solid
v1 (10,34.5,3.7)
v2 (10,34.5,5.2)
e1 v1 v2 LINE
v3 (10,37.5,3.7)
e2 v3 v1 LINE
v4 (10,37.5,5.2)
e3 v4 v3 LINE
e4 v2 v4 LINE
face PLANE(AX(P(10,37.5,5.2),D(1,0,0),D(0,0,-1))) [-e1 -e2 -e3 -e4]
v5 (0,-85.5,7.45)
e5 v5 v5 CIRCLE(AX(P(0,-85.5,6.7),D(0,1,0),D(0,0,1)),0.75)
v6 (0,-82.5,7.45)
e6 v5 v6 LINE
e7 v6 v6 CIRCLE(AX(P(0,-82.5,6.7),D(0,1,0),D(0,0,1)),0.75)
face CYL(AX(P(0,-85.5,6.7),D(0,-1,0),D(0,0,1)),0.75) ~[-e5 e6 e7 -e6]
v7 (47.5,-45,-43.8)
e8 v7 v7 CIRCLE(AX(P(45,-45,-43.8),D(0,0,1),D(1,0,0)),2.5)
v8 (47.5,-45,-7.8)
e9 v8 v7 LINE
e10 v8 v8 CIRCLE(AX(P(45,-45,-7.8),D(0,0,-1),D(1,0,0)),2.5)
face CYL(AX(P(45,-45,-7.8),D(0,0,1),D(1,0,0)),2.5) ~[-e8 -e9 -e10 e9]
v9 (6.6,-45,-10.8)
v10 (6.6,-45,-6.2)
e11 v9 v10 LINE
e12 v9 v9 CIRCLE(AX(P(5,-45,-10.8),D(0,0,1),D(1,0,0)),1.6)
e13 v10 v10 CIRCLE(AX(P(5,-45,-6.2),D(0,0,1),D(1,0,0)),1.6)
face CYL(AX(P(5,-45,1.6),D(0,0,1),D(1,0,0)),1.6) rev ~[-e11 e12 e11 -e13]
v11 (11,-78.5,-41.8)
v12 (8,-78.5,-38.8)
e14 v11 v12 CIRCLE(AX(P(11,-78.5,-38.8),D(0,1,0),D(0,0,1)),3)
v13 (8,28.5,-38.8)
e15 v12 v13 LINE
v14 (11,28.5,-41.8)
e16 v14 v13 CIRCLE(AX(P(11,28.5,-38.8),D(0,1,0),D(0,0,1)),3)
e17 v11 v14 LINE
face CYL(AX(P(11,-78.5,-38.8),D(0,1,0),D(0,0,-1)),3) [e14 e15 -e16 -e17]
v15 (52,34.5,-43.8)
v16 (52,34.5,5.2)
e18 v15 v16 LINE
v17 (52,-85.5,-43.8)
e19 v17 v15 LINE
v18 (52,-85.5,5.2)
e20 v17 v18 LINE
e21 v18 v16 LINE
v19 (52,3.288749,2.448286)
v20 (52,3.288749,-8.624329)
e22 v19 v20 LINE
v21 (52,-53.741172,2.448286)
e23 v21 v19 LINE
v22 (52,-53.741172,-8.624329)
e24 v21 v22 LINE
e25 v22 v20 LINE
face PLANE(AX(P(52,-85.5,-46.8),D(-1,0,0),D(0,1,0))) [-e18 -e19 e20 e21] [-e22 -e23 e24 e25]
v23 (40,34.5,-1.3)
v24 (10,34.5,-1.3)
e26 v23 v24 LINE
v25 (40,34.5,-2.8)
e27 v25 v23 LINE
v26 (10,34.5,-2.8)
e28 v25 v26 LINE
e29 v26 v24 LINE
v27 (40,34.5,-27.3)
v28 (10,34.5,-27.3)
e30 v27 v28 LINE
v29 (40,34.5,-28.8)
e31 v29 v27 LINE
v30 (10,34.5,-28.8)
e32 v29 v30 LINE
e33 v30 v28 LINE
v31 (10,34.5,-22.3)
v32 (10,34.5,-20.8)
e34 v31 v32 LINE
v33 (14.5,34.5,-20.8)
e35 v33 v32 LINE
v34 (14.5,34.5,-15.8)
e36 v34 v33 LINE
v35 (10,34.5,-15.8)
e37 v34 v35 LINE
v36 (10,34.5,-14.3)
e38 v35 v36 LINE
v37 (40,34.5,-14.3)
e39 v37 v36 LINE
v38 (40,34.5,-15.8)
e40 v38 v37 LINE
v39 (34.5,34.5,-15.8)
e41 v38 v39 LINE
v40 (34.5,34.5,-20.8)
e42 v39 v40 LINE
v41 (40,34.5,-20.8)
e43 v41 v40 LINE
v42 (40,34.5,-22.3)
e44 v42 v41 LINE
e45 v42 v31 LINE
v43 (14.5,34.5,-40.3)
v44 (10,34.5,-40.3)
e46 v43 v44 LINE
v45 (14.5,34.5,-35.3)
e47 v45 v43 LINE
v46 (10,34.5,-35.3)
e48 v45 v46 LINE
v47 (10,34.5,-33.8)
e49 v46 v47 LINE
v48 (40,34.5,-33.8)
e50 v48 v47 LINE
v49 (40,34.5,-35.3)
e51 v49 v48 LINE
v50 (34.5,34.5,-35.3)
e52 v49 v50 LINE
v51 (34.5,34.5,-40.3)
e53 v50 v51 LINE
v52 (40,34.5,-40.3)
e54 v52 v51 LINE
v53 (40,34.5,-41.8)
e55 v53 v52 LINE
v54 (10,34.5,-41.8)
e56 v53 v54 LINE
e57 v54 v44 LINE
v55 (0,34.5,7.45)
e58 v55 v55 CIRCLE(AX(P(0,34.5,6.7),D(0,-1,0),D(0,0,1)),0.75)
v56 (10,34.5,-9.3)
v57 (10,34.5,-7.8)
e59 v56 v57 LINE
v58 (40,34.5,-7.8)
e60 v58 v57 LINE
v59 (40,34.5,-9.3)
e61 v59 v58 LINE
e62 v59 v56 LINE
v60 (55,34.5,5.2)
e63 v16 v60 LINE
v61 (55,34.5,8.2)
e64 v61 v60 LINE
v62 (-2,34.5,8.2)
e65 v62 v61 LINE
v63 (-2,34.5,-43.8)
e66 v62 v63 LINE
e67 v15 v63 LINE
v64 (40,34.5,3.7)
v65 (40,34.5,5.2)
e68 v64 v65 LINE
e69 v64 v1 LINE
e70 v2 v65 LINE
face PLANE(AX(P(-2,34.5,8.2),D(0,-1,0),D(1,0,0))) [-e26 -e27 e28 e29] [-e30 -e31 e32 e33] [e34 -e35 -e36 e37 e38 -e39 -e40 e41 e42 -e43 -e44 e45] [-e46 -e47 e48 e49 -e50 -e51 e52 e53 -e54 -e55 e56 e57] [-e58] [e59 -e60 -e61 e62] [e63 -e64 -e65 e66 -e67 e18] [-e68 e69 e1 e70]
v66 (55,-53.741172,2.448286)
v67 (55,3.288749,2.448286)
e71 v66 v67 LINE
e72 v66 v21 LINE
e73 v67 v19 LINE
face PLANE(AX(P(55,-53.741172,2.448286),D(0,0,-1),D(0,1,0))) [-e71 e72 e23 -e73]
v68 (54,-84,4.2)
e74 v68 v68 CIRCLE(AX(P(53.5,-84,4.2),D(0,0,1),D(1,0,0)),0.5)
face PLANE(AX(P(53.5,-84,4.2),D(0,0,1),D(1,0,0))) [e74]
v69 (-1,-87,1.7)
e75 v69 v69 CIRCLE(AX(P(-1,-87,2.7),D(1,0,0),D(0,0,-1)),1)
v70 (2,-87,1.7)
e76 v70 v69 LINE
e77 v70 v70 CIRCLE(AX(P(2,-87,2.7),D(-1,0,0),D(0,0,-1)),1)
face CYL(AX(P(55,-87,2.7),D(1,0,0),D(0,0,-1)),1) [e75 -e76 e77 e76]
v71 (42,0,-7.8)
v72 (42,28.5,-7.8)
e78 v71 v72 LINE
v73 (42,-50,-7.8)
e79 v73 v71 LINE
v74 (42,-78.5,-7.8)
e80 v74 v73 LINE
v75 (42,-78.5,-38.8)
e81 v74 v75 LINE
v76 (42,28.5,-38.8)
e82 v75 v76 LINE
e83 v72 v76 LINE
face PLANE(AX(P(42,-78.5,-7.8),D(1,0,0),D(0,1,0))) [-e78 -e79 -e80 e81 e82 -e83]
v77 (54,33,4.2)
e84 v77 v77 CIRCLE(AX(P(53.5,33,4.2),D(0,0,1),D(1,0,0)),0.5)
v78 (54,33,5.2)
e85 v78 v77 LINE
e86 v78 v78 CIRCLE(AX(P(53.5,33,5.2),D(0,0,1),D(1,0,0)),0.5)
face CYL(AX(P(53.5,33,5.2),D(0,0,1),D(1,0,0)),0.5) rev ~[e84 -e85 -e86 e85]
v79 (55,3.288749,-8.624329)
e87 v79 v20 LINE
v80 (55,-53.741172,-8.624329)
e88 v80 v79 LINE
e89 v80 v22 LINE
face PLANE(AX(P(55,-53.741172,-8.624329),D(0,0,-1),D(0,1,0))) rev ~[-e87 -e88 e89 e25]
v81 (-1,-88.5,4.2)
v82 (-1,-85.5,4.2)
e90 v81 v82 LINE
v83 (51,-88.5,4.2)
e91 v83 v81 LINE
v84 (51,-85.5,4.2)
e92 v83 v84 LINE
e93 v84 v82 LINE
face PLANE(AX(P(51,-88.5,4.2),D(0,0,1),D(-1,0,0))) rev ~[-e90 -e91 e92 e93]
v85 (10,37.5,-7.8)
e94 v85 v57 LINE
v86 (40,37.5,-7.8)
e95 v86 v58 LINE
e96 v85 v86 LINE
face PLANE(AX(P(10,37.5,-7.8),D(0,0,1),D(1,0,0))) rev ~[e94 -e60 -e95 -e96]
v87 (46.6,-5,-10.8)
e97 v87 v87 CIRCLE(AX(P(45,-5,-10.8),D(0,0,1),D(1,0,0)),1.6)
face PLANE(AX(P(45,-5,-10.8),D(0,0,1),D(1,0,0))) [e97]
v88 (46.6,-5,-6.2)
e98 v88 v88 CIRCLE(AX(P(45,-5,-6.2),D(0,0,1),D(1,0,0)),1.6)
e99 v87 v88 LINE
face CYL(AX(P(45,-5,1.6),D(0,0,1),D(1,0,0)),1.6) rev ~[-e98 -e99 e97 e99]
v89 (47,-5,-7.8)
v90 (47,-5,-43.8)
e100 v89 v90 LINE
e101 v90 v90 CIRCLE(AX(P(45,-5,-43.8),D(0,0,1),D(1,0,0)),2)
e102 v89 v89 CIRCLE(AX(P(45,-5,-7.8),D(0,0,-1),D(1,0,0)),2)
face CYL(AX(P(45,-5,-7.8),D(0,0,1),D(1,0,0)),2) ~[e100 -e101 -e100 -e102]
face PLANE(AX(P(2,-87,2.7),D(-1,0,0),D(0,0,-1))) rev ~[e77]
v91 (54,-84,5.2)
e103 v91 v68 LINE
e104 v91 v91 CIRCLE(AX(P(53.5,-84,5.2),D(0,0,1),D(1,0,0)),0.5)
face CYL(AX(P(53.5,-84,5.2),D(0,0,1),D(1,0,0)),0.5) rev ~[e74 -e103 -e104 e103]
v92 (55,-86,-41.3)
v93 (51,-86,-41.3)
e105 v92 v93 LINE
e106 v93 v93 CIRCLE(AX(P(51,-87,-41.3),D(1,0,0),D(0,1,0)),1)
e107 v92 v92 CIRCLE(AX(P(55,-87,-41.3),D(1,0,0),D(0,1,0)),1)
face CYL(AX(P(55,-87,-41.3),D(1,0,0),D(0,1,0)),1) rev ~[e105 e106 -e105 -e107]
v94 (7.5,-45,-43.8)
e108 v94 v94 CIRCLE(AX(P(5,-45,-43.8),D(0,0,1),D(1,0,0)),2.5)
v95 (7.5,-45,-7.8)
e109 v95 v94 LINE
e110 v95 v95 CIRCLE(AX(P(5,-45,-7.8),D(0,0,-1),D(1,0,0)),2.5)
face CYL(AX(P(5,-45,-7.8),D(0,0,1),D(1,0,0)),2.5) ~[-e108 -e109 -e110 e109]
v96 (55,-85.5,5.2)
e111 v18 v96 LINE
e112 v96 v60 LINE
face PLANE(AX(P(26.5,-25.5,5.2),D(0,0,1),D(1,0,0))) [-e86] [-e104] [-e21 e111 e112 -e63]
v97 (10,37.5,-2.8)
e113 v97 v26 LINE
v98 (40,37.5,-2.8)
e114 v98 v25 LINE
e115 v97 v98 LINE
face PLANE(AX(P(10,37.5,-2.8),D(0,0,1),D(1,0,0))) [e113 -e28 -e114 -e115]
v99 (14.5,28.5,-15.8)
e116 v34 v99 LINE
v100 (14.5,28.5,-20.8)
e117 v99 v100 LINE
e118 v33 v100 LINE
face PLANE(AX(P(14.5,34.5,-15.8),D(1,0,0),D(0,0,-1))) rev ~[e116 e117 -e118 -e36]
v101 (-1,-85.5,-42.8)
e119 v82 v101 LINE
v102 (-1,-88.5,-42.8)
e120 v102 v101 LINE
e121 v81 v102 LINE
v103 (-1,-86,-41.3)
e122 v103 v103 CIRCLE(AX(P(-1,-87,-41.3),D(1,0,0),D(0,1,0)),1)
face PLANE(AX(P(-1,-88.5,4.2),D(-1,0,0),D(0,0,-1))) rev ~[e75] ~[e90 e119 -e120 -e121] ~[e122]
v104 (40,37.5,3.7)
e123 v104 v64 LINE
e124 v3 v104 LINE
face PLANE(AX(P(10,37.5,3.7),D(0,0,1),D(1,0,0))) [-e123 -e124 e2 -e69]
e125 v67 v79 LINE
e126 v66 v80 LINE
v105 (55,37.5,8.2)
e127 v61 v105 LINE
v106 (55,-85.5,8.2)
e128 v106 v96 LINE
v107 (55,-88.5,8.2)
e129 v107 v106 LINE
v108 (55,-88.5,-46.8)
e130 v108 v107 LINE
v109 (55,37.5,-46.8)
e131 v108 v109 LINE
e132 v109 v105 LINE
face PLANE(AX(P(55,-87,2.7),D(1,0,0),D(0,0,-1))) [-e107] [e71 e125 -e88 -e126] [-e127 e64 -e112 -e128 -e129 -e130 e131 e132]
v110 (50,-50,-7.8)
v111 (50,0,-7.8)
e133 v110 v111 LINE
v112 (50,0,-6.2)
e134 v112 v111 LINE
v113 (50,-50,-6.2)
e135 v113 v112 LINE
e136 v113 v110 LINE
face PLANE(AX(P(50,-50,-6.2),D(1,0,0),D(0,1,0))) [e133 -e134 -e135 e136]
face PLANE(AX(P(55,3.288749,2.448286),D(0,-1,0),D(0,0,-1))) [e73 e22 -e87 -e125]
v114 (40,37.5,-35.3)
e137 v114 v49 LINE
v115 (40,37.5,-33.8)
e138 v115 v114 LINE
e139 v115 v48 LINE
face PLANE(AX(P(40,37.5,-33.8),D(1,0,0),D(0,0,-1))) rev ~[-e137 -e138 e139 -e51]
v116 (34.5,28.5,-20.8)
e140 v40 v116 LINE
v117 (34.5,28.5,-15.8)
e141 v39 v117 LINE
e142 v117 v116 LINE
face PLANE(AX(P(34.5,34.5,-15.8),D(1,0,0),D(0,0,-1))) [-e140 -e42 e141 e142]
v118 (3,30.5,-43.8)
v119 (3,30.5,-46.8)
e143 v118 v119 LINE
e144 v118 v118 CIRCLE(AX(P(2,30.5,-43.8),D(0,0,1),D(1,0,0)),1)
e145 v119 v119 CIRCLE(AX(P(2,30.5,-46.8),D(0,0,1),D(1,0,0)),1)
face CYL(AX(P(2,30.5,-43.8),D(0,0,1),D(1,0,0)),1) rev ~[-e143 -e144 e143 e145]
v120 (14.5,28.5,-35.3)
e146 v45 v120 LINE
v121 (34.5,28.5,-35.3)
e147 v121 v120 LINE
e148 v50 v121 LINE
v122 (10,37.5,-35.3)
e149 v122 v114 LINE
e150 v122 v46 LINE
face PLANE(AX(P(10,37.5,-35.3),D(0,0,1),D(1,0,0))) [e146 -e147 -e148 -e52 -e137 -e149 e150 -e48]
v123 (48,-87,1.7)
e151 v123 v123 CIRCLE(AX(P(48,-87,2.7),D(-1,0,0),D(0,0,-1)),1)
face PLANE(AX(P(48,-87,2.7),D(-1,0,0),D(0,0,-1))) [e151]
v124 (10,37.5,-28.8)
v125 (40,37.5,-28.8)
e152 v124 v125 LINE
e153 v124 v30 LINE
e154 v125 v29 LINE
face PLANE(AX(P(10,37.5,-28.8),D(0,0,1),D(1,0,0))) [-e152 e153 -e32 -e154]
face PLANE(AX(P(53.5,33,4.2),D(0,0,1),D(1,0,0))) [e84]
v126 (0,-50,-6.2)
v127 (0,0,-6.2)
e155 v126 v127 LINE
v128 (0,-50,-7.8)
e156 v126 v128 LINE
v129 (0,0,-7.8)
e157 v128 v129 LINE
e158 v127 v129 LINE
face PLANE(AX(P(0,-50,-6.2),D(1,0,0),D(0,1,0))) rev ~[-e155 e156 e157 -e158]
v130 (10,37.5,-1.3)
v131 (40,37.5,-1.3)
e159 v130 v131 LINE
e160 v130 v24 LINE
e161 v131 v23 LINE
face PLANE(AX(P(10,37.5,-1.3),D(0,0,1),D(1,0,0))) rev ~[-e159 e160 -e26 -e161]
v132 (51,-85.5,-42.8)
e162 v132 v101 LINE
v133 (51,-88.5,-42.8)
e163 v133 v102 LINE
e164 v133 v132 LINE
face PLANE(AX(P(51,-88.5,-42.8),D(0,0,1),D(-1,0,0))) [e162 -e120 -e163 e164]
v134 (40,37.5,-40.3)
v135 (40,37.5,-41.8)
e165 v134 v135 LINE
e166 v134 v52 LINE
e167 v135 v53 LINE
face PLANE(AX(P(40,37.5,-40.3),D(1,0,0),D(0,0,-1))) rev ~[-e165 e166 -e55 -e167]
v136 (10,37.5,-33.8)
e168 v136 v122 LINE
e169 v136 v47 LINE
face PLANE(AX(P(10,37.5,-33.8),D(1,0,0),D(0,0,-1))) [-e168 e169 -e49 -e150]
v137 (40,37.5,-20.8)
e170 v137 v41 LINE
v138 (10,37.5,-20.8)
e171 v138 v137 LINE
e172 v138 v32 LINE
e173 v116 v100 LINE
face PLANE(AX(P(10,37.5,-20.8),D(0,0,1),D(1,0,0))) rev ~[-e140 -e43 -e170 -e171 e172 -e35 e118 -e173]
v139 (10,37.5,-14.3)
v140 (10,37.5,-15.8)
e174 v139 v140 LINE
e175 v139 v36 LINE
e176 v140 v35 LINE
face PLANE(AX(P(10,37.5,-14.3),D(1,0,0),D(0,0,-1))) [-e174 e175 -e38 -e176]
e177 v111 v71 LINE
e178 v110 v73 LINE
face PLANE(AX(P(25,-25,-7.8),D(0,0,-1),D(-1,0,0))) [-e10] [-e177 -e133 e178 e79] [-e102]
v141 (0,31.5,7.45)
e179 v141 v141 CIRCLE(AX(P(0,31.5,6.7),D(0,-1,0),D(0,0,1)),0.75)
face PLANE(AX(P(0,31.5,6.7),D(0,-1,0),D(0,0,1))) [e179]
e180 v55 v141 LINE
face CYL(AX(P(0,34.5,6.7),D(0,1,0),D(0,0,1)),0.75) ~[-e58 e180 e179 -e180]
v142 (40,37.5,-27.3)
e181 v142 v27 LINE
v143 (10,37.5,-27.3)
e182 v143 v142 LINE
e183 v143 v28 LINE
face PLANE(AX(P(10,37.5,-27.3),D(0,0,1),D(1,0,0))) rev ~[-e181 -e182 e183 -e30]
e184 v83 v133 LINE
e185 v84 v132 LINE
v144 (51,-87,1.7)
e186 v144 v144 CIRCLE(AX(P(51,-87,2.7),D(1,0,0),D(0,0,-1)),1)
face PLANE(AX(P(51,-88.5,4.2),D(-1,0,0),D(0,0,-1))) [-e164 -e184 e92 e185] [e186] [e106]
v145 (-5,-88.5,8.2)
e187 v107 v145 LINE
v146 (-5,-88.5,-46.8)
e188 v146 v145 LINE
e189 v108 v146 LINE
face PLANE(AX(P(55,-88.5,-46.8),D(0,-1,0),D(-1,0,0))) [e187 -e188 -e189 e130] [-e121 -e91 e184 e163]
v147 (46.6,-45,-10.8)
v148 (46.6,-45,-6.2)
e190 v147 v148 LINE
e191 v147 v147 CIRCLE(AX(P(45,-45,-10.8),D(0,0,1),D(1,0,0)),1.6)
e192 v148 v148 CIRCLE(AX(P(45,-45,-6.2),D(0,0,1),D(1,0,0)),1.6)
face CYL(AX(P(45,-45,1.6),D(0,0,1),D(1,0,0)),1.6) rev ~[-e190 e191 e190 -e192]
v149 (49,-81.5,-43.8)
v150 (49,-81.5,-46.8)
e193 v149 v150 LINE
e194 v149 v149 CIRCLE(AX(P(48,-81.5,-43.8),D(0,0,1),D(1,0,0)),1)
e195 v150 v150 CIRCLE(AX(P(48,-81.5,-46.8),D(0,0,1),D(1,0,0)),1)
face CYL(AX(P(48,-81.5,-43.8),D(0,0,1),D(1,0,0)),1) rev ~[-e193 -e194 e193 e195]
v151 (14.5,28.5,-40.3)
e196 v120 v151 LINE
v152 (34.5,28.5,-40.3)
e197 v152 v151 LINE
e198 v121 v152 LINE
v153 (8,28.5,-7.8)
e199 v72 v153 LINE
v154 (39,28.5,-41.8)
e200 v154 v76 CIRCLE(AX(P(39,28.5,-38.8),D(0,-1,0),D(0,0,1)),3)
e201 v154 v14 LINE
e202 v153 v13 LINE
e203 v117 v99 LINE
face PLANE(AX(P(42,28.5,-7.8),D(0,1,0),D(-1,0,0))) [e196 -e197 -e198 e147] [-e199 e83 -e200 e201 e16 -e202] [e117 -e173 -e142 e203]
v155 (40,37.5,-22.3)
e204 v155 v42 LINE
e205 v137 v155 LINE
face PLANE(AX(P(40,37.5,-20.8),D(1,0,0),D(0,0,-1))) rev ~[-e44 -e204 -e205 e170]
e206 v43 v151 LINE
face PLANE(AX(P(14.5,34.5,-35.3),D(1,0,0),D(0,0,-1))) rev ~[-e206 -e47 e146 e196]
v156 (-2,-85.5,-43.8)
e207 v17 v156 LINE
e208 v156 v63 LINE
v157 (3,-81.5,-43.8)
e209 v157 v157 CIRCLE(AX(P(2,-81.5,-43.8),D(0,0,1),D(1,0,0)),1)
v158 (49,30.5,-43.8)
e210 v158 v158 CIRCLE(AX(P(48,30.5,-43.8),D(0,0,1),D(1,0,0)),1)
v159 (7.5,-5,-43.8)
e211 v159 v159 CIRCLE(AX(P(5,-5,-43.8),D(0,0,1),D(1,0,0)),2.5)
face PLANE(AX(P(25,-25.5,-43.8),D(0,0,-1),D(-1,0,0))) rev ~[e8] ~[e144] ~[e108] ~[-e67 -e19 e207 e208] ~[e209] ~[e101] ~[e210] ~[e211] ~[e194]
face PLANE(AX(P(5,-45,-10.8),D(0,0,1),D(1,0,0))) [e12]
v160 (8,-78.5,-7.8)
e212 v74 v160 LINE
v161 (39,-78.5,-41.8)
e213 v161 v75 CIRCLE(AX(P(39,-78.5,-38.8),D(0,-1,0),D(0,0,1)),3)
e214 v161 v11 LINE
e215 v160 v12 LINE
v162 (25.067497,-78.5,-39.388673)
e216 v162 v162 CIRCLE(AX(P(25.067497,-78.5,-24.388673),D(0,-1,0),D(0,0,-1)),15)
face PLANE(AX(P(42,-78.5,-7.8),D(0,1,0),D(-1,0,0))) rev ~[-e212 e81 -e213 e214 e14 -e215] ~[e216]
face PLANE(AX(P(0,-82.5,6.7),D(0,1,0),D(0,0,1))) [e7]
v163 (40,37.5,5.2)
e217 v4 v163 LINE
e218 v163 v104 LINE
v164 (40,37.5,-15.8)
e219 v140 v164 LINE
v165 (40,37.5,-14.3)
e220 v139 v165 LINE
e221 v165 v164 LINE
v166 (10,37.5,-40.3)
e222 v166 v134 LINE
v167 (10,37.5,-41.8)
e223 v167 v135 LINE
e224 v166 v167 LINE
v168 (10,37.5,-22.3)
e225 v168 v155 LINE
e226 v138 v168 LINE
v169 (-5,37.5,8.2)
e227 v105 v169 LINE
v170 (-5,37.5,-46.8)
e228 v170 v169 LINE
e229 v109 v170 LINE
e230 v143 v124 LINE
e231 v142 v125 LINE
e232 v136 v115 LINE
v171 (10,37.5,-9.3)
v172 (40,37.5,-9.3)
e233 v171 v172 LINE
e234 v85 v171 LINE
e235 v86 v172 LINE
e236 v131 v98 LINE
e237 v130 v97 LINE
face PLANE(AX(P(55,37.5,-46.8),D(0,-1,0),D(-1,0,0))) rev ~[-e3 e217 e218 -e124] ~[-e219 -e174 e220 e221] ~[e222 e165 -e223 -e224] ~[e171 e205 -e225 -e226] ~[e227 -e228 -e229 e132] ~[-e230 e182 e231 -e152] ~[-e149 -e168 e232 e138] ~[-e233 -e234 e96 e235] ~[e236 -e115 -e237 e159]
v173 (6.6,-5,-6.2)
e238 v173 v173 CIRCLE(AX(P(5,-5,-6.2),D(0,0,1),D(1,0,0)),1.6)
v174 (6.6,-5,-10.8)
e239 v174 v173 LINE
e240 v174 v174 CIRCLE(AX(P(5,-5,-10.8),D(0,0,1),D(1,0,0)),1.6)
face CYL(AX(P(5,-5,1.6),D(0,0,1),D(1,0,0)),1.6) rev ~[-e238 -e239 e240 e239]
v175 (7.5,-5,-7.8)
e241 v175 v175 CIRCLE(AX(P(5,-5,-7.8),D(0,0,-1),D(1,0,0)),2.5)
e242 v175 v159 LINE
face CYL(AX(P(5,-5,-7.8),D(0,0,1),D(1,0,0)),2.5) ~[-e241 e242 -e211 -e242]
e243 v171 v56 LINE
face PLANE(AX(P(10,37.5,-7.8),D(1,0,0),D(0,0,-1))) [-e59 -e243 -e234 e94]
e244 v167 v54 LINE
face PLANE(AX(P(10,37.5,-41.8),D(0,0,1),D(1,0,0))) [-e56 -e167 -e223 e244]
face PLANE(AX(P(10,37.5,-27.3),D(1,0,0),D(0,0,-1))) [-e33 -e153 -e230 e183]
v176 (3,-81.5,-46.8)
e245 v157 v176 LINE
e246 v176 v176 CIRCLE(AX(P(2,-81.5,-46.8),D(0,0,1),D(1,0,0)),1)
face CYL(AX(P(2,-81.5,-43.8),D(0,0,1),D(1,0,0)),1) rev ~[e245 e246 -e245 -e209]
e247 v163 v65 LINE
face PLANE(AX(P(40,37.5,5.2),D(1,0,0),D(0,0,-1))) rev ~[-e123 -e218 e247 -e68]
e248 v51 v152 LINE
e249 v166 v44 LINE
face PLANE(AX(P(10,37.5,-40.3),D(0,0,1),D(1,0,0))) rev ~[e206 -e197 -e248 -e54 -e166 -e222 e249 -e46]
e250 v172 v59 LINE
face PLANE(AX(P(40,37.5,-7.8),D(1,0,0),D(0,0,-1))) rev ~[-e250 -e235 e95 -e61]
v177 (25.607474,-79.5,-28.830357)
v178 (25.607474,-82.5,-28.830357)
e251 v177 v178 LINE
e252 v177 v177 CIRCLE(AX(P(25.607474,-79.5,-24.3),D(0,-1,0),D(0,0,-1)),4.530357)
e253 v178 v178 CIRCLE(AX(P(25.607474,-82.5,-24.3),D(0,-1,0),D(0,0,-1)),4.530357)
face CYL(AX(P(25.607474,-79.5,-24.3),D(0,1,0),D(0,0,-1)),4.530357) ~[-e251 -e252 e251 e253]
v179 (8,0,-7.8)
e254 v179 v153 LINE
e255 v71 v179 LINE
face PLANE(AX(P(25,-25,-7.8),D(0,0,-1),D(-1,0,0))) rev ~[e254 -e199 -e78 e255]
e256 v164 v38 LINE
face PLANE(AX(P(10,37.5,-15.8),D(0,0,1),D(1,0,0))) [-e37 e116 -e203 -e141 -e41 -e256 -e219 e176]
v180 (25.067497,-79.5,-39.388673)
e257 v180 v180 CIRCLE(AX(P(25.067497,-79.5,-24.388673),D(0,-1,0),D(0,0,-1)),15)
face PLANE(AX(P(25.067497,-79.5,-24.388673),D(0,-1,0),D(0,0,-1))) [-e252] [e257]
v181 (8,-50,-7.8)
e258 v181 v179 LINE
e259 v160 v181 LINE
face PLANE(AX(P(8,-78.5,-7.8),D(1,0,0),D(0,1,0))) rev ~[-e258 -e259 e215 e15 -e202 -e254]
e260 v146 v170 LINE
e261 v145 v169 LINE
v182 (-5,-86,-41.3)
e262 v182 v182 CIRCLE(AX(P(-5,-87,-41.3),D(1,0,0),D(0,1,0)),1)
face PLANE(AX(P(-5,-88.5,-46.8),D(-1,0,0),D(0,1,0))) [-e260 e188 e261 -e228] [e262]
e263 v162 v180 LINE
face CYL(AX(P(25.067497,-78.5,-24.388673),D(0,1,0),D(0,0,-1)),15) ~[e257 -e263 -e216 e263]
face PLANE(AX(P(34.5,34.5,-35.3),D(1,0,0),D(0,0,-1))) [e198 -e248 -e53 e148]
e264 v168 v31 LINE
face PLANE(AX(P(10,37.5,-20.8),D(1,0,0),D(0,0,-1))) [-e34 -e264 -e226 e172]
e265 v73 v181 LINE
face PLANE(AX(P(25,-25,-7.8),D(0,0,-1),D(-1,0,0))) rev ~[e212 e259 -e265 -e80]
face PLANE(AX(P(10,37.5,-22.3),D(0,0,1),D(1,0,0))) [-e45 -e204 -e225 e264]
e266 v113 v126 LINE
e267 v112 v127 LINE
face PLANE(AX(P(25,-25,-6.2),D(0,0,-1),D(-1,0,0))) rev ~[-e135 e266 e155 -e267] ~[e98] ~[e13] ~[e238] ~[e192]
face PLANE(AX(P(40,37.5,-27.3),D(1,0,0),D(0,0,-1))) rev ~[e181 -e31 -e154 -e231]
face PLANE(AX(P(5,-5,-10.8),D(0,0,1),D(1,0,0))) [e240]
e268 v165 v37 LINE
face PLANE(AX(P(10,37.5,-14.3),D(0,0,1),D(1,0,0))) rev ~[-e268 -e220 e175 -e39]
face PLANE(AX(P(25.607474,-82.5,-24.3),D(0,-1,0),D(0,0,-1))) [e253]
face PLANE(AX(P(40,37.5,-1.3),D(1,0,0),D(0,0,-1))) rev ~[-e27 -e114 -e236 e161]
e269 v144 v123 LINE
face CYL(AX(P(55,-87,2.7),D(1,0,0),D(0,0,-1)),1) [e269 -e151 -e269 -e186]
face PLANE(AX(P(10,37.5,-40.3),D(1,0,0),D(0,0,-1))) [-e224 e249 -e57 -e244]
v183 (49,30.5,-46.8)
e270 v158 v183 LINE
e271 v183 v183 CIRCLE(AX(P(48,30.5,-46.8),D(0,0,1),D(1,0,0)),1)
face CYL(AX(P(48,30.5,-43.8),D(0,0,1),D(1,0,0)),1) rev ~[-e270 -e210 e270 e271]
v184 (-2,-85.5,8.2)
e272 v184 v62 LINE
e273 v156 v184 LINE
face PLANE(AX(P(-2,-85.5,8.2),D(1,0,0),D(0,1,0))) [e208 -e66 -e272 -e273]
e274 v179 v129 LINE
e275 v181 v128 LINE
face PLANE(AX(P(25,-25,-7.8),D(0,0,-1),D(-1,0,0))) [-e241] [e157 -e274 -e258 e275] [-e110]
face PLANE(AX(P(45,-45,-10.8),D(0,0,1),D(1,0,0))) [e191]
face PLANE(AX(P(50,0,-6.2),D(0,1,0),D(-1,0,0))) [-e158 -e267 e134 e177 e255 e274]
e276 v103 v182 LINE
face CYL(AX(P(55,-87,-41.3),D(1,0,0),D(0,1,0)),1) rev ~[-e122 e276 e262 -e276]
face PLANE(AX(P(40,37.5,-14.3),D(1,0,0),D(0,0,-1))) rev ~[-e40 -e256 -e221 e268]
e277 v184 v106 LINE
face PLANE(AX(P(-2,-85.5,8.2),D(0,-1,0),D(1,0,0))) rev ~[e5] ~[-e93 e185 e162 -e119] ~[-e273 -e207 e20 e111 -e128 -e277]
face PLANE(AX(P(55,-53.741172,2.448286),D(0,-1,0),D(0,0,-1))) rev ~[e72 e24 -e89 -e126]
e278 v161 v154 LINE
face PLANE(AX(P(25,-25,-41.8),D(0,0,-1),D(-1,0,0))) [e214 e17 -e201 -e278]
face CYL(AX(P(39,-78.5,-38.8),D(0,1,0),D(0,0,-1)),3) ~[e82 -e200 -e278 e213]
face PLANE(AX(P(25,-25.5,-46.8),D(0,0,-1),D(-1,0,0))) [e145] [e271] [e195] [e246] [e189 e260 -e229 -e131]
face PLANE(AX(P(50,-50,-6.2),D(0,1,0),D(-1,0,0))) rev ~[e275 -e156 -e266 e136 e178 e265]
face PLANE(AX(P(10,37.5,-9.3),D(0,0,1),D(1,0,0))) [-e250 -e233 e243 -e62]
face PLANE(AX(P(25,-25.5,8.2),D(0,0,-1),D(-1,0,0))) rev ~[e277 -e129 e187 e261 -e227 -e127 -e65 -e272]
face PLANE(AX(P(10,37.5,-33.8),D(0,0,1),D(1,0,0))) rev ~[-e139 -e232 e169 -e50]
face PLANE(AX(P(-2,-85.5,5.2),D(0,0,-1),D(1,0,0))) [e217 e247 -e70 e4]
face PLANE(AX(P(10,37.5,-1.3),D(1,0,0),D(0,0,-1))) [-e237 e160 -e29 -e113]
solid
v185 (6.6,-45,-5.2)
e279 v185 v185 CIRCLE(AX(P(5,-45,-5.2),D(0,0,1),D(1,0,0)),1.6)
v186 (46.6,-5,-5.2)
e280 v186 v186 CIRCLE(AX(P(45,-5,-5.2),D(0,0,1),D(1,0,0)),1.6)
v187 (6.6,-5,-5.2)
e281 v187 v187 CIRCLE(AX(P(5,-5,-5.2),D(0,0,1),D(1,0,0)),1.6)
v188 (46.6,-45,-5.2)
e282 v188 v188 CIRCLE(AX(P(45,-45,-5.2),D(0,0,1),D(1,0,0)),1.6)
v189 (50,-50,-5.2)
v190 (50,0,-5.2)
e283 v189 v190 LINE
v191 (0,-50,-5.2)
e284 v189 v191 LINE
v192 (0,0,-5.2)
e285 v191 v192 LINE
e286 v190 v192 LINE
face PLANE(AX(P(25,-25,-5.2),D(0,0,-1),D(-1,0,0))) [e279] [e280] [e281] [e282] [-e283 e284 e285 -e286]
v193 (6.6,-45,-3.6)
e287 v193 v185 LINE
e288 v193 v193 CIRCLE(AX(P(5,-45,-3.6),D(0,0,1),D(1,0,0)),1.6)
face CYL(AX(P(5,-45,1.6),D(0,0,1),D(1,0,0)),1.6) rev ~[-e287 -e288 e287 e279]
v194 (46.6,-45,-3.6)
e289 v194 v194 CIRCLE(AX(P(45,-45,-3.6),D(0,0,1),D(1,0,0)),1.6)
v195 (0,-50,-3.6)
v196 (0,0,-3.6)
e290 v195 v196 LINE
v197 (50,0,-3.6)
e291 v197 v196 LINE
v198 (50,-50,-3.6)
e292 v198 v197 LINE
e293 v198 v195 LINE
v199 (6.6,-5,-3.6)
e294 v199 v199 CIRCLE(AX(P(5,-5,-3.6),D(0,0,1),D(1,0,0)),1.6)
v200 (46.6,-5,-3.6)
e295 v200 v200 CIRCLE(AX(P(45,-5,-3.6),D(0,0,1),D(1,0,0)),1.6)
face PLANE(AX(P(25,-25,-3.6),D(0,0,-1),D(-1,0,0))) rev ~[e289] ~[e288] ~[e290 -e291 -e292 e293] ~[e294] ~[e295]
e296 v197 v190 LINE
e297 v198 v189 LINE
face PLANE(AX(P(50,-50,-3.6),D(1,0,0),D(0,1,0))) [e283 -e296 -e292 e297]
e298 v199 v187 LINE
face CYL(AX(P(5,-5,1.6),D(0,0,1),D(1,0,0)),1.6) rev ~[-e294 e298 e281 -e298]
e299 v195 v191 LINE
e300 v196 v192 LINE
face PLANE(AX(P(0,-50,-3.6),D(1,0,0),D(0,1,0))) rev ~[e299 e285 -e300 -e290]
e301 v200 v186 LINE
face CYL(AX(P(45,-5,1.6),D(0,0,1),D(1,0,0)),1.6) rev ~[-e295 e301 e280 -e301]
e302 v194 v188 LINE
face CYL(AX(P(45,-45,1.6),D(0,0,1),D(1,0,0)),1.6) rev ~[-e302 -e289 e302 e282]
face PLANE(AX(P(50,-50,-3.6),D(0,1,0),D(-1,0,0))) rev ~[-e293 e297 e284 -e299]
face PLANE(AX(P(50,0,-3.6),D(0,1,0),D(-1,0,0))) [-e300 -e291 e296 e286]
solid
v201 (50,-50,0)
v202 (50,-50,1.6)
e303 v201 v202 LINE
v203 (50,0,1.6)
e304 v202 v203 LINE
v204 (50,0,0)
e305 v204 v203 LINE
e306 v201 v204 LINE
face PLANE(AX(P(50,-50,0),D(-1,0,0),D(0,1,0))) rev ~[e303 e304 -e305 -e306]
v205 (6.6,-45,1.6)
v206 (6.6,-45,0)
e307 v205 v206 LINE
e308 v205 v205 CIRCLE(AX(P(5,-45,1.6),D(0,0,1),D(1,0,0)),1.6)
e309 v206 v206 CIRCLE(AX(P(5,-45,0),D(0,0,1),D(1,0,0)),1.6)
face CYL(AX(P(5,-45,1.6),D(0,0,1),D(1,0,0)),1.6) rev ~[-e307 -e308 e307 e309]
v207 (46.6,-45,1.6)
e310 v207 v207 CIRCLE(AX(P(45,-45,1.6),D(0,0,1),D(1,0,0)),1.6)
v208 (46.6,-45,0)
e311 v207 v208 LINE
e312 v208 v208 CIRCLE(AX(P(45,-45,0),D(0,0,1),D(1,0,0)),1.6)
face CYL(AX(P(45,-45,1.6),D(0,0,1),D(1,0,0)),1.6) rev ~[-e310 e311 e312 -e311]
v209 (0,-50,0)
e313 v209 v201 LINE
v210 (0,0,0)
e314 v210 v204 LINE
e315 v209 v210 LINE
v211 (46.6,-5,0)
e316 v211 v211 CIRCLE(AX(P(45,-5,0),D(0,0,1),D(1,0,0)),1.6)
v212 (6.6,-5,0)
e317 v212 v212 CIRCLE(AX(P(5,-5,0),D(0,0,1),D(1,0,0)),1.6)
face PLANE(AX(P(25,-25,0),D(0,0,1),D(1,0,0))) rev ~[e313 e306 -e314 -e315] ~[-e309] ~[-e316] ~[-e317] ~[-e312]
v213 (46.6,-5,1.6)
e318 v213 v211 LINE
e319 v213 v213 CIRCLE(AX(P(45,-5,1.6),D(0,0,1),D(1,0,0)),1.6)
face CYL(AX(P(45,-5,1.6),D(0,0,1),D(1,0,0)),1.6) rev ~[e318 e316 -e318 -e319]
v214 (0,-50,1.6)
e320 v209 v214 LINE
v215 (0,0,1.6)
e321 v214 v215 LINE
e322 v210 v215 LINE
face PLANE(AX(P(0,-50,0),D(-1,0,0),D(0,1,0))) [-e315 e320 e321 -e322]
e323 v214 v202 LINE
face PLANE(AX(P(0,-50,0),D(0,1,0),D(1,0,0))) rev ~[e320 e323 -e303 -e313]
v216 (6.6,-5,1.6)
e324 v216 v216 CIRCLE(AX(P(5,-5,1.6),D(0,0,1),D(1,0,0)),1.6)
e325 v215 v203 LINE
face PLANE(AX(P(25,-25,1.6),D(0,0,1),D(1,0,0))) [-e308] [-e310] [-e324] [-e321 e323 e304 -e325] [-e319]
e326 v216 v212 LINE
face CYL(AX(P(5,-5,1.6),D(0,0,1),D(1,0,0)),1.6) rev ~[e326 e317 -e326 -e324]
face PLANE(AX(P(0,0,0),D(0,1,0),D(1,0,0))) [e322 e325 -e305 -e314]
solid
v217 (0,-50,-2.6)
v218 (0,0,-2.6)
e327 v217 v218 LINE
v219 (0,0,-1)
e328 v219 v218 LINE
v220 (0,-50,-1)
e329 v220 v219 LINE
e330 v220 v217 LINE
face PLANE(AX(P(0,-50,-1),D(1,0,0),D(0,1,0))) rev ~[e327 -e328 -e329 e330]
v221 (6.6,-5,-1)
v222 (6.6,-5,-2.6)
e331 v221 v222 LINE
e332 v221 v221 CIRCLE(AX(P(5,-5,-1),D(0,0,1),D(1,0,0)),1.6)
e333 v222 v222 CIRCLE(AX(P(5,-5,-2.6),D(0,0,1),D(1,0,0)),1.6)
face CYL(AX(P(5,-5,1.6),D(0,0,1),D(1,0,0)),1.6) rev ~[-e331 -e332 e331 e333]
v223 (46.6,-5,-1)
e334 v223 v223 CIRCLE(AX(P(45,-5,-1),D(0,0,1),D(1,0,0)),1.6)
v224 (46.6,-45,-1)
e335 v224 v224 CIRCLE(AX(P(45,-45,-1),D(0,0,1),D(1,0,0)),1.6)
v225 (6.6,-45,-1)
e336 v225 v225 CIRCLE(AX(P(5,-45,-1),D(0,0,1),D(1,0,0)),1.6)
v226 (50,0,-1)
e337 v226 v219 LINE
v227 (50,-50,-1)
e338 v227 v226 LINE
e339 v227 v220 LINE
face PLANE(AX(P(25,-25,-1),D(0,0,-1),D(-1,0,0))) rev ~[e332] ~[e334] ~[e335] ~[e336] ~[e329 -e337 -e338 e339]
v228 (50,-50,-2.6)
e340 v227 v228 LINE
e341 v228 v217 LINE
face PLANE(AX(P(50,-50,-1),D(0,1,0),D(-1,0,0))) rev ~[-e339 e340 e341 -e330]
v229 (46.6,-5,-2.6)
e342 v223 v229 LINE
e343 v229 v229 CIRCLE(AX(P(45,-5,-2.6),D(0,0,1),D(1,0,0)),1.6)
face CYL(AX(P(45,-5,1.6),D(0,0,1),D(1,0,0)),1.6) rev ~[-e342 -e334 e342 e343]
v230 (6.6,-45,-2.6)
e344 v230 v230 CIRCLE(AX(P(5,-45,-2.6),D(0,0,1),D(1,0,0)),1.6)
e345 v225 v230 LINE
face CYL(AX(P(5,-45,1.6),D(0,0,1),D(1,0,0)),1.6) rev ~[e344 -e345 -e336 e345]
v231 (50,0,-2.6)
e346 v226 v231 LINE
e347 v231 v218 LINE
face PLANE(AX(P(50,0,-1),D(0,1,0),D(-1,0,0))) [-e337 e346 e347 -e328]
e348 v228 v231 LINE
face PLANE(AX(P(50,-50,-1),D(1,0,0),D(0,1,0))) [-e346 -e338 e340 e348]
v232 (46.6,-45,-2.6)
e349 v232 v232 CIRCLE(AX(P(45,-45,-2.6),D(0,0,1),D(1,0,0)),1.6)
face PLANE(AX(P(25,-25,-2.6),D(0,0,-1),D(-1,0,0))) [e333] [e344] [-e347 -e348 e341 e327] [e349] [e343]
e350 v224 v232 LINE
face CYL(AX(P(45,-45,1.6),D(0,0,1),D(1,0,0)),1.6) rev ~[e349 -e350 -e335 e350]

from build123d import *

# Parameters (mm, degrees)
SKETCH_1_W           = 50
SKETCH_1_H           = 50
EXTRUDE_1_DEPTH      = 1.6
SKETCH_4_W           = 50
SKETCH_4_H           = 50
EXTRUDE_3_DEPTH      = 1.6
SKETCH_5_W           = 50
SKETCH_5_H           = 50
EXTRUDE_4_DEPTH      = 1.6
SKETCH_6_W           = 50
SKETCH_6_H           = 50
EXTRUDE_5_DEPTH      = 1.6
SKETCH_9_W           = 34
SKETCH_9_H           = 107
EXTRUDE_6_DEPTH      = 34
FILLET_12_R          = 3
FILLET_13_R          = 3
SKETCH_10_R          = 1.6
CUT_EXTRUDE_1_DEPTH  = 10
SKETCH_17_W          = 54
SKETCH_17_H          = 120
EXTRUDE_8_DEPTH      = 3
SKETCH_18_R          = 15
EXTRUDE_10_DEPTH     = 1
SKETCH_19_R          = 4.530357101
EXTRUDE_11_DEPTH     = 3
SKETCH_22_R          = 2.5
SKETCH_22_R_2        = 2
EXTRUDE_12_DEPTH     = 37
SKETCH_23_R          = 1.6
CUT_EXTRUDE_2_DEPTH  = 3
SKETCH_24_W          = 60
SKETCH_24_H          = 126
SKETCH_24_W_2        = 54
SKETCH_24_H_2        = 120
EXTRUDE_14_DEPTH     = 55
SKETCH_31_W          = 30
SKETCH_31_H          = 1.5
CUT_EXTRUDE_4_DEPTH  = 4
SKETCH_32_R          = 1
CUT_EXTRUDE_5_DEPTH  = 10
SKETCH_33_W          = 54
SKETCH_33_H          = 3
EXTRUDE_15_DEPTH     = 121
SKETCH_34_W          = 52
SKETCH_34_H          = 47
CUT_EXTRUDE_6_DEPTH  = 3
SKETCH_36_R          = 1
EXTRUDE_16_DEPTH     = 58
SKETCH_37_R          = 1
CUT_EXTRUDE_8_DEPTH  = 46
SKETCH_38_R          = 1
CUT_EXTRUDE_9_DEPTH  = 100
SKETCH_39_W          = 11.072615153
SKETCH_39_H          = 57.029921058
CUT_EXTRUDE_10_DEPTH = 3
SKETCH_28_W          = 57
SKETCH_28_H          = 120
CUT_EXTRUDE_11_DEPTH = 3
SKETCH_30_R          = 0.75
EXTRUDE_17_DEPTH     = 3
SKETCH_29_R          = 0.75
EXTRUDE_18_DEPTH     = 3
SKETCH_41_R          = 0.5
CUT_EXTRUDE_12_DEPTH = 1
SKETCH_42_W          = 20
SKETCH_42_H          = 5
EXTRUDE_19_DEPTH     = 6


with BuildPart() as part:
    # 草图1 → 凸台-拉伸1 (new body)
    with BuildSketch(Plane.XY):
        with Locations((25, -25)):
            Rectangle(SKETCH_1_W, SKETCH_1_H)
    extrude(amount=EXTRUDE_1_DEPTH)


with BuildPart() as body_2:
    # 草图4 → 凸台-拉伸3 (new body)
    with BuildSketch(Plane(origin=(0, 0, -1), x_dir=(-1, 0, 0), z_dir=(0, 0, -1))):
        with Locations((-25, -25)):
            Rectangle(SKETCH_4_W, SKETCH_4_H)
    extrude(amount=EXTRUDE_3_DEPTH)


with BuildPart() as body_3:
    # 草图5 → 凸台-拉伸4 (new body)
    with BuildSketch(Plane(origin=(0, 0, -3.6), x_dir=(-1, 0, 0), z_dir=(0, 0, -1))):
        with Locations((-25, -25)):
            Rectangle(SKETCH_5_W, SKETCH_5_H)
    extrude(amount=EXTRUDE_4_DEPTH)


with BuildPart() as body_4:
    # 草图6 → 凸台-拉伸5 (new body)
    with BuildSketch(Plane(origin=(0, 0, -6.2), x_dir=(-1, 0, 0), z_dir=(0, 0, -1))):
        with Locations((-25, -25)):
            Rectangle(SKETCH_6_W, SKETCH_6_H)
    extrude(amount=EXTRUDE_5_DEPTH)

    # 草图9 → 凸台-拉伸6 (add)
    with BuildSketch(Plane(origin=(0, 0, -7.8), x_dir=(-1, 0, 0), z_dir=(0, 0, -1))):
        with Locations((-25, -25)):
            Rectangle(SKETCH_9_W, SKETCH_9_H)
    extrude(amount=EXTRUDE_6_DEPTH)

    # 圆角12
    fillet_12_edges = [body_4.edges().sort_by_distance(p)[0] for p in [
        (8, -25, -41.8),
    ]]
    fillet(fillet_12_edges, radius=FILLET_12_R)

    # 圆角13
    fillet_13_edges = [body_4.edges().sort_by_distance(p)[0] for p in [
        (42, -25, -41.8),
    ]]
    fillet(fillet_13_edges, radius=FILLET_13_R)


with BuildPart() as cut_extrude_1_tool:
    # 草图10 → 切除-拉伸1 (new body)
    with BuildSketch(Plane.XY.offset(1.6)):
        with Locations((5, -5)):
            Circle(SKETCH_10_R)
        with Locations((45, -5)):
            Circle(SKETCH_10_R)
        with Locations((5, -45)):
            Circle(SKETCH_10_R)
        with Locations((45, -45)):
            Circle(SKETCH_10_R)
    extrude(amount=-CUT_EXTRUDE_1_DEPTH)


with BuildPart() as part_1:
    add(part.part)

    # 切除-拉伸1: cut by cut_extrude_1_tool
    add(cut_extrude_1_tool.part, mode=Mode.SUBTRACT)


with BuildPart() as body_2_1:
    add(body_2.part)

    # 切除-拉伸1: cut by cut_extrude_1_tool
    add(cut_extrude_1_tool.part, mode=Mode.SUBTRACT)


with BuildPart() as body_3_1:
    add(body_3.part)

    # 切除-拉伸1: cut by cut_extrude_1_tool
    add(cut_extrude_1_tool.part, mode=Mode.SUBTRACT)


with BuildPart() as body_4_1:
    add(body_4.part)

    # 切除-拉伸1: cut by cut_extrude_1_tool
    add(cut_extrude_1_tool.part, mode=Mode.SUBTRACT)

    # 草图18 → 凸台-拉伸10 (add)
    with BuildSketch(Plane(origin=(0, -78.5, 0), x_dir=(-1, 0, 0), z_dir=(0, -1, 0))):
        with Locations(Location((-25.067497088, 24.38867284, 0), (0, 0, 90))):
            Circle(SKETCH_18_R)
    extrude(amount=EXTRUDE_10_DEPTH)

    # 草图19 → 凸台-拉伸11 (add)
    with BuildSketch(Plane(origin=(0, -79.5, 0), x_dir=(-1, 0, 0), z_dir=(0, -1, 0))):
        with Locations(Location((-25.607473795, 24.3, 0), (0, 0, 90))):
            Circle(SKETCH_19_R)
    extrude(amount=EXTRUDE_11_DEPTH)



with BuildPart() as body_5:
    # 草图17 → 凸台-拉伸8 (new body)
    with BuildSketch(Plane(origin=(0, 0, -43.8), x_dir=(-1, 0, 0), z_dir=(0, 0, -1))):
        with Locations((-25, -25.5)):
            Rectangle(SKETCH_17_W, SKETCH_17_H)
    extrude(amount=EXTRUDE_8_DEPTH)


with BuildPart() as body_4_2:
    add(body_4_1.part)

    add(body_5.part)  # 凸台-拉伸12 merges body 5
    # 草图22 → 凸台-拉伸12 (add)
    with BuildSketch(Plane(origin=(0, 0, -7.8), x_dir=(-1, 0, 0), z_dir=(0, 0, -1))):
        with Locations(Location((-45, -45, 0), (0, 0, 180))):
            Circle(SKETCH_22_R)
        with Locations(Location((-45, -5, 0), (0, 0, 180))):
            Circle(SKETCH_22_R_2)
        with Locations(Location((-5, -45, 0), (0, 0, 180))):
            Circle(SKETCH_22_R)
        with Locations(Location((-5, -5, 0), (0, 0, 180))):
            Circle(SKETCH_22_R)
    extrude(amount=EXTRUDE_12_DEPTH)

    # 草图23 → 切除-拉伸2 (cut)
    with BuildSketch(Plane.XY.offset(-7.8)):
        with Locations((45, -45)):
            Circle(SKETCH_23_R)
        with Locations((45, -5)):
            Circle(SKETCH_23_R)
        with Locations((5, -5)):
            Circle(SKETCH_23_R)
        with Locations((5, -45)):
            Circle(SKETCH_23_R)
    extrude(amount=-CUT_EXTRUDE_2_DEPTH, mode=Mode.SUBTRACT)

    # 草图24 → 凸台-拉伸14 (add)
    with BuildSketch(Plane(origin=(0, 0, -46.8), x_dir=(-1, 0, 0), z_dir=(0, 0, -1))):
        with Locations((-25, -25.5)):
            Rectangle(SKETCH_24_W, SKETCH_24_H)
        with Locations((-25, -25.5)):
            Rectangle(SKETCH_24_W_2, SKETCH_24_H_2, mode=Mode.SUBTRACT)
    extrude(amount=-EXTRUDE_14_DEPTH)

    # 草图31 → 切除-拉伸4 (cut)
    with BuildSketch(Plane(origin=(0, 37.5, 0), x_dir=(1, 0, 0), z_dir=(0, 1, 0))):
        with Locations((25, 41.05)):
            Rectangle(SKETCH_31_W, SKETCH_31_H)
        with Locations((25, 34.55)):
            Rectangle(SKETCH_31_W, SKETCH_31_H)
        with Locations((25, 28.05)):
            Rectangle(SKETCH_31_W, SKETCH_31_H)
        with Locations((25, 21.55)):
            Rectangle(SKETCH_31_W, SKETCH_31_H)
        with Locations((25, 15.05)):
            Rectangle(SKETCH_31_W, SKETCH_31_H)
        with Locations((25, 8.55)):
            Rectangle(SKETCH_31_W, SKETCH_31_H)
        with Locations((25, 2.05)):
            Rectangle(SKETCH_31_W, SKETCH_31_H)
        with Locations((25, -4.45)):
            Rectangle(SKETCH_31_W, SKETCH_31_H)
    extrude(amount=-CUT_EXTRUDE_4_DEPTH, mode=Mode.SUBTRACT)

    # 草图32 → 切除-拉伸5 (cut)
    with BuildSketch(Plane.XY.offset(-43.8)):
        with Locations((2, 30.5)):
            Circle(SKETCH_32_R)
        with Locations((48, 30.5)):
            Circle(SKETCH_32_R)
        with Locations((2, -81.5)):
            Circle(SKETCH_32_R)
        with Locations((48, -81.5)):
            Circle(SKETCH_32_R)
    extrude(amount=-CUT_EXTRUDE_5_DEPTH, mode=Mode.SUBTRACT)

    # 草图33 → 凸台-拉伸15 (add)
    with BuildSketch(Plane(origin=(0, -85.5, 0), x_dir=(1, 0, 0), z_dir=(0, 1, 0))):
        with Locations((25, -6.7)):
            Rectangle(SKETCH_33_W, SKETCH_33_H)
    extrude(amount=EXTRUDE_15_DEPTH)

    # 草图34 → 切除-拉伸6 (cut)
    with BuildSketch(Plane(origin=(0, -88.5, 0), x_dir=(-1, 0, 0), z_dir=(0, -1, 0))):
        with Locations((-25, 19.3)):
            Rectangle(SKETCH_34_W, SKETCH_34_H)
    extrude(amount=-CUT_EXTRUDE_6_DEPTH, mode=Mode.SUBTRACT)

    # 草图36 → 凸台-拉伸16 (add)
    with BuildSketch(Plane(origin=(55, 0, 0), x_dir=(0, 0, -1), z_dir=(1, 0, 0))):
        with Locations((-2.7, -87)):
            Circle(SKETCH_36_R)
    extrude(amount=-EXTRUDE_16_DEPTH)

    # 草图37 → 切除-拉伸8 (cut)
    with BuildSketch(Plane.ZY.offset(-48)):
        with Locations(Location((2.7, -87, 0), (0, 0, 180))):
            Circle(SKETCH_37_R)
    extrude(amount=CUT_EXTRUDE_8_DEPTH, mode=Mode.SUBTRACT)

    # 草图38 → 切除-拉伸9 (cut)
    with BuildSketch(Plane(origin=(55, 0, 0), x_dir=(0, 0, -1), z_dir=(1, 0, 0))):
        with Locations(Location((41.3, -87, 0), (0, 0, 90))):
            Circle(SKETCH_38_R)
    extrude(amount=-CUT_EXTRUDE_9_DEPTH, mode=Mode.SUBTRACT)

    # 草图39 → 切除-拉伸10 (cut)
    with BuildSketch(Plane(origin=(55, 0, 0), x_dir=(0, 0, -1), z_dir=(1, 0, 0))):
        with Locations((3.08802192, -25.226211524)):
            Rectangle(SKETCH_39_W, SKETCH_39_H)
    extrude(amount=-CUT_EXTRUDE_10_DEPTH, mode=Mode.SUBTRACT)

    # 草图28 → 切除-拉伸11 (cut)
    with BuildSketch(Plane.XY.offset(8.2)):
        with Locations((26.5, -25.5)):
            Rectangle(SKETCH_28_W, SKETCH_28_H)
    extrude(amount=-CUT_EXTRUDE_11_DEPTH, mode=Mode.SUBTRACT)

    # 草图30 → 凸台-拉伸17 (add)
    with BuildSketch(Plane(origin=(0, 34.5, 0), x_dir=(-1, 0, 0), z_dir=(0, -1, 0))):
        with Locations(Location((0, -6.7, 0), (0, 0, 270))):
            Circle(SKETCH_30_R)
    extrude(amount=EXTRUDE_17_DEPTH)

    # 草图29 → 凸台-拉伸18 (add)
    with BuildSketch(Plane(origin=(0, -85.5, 0), x_dir=(1, 0, 0), z_dir=(0, 1, 0))):
        with Locations(Location((0, -6.7, 0), (0, 0, 270))):
            Circle(SKETCH_29_R)
    extrude(amount=EXTRUDE_18_DEPTH)

    # 草图41 → 切除-拉伸12 (cut)
    with BuildSketch(Plane.XY.offset(5.2)):
        with Locations((53.5, 33)):
            Circle(SKETCH_41_R)
        with Locations((53.5, -84)):
            Circle(SKETCH_41_R)
    extrude(amount=-CUT_EXTRUDE_12_DEPTH, mode=Mode.SUBTRACT)

    # 草图42 → 凸台-拉伸19 (add)
    with BuildSketch(Plane(origin=(0, 34.5, 0), x_dir=(-1, 0, 0), z_dir=(0, -1, 0))):
        with Locations((-24.5, 37.8)):
            Rectangle(SKETCH_42_W, SKETCH_42_H)
        with Locations((-24.5, 18.3)):
            Rectangle(SKETCH_42_W, SKETCH_42_H)
    extrude(amount=EXTRUDE_19_DEPTH)


solid = Compound([part_1.part, body_2_1.part, body_3_1.part, body_4_2.part])
